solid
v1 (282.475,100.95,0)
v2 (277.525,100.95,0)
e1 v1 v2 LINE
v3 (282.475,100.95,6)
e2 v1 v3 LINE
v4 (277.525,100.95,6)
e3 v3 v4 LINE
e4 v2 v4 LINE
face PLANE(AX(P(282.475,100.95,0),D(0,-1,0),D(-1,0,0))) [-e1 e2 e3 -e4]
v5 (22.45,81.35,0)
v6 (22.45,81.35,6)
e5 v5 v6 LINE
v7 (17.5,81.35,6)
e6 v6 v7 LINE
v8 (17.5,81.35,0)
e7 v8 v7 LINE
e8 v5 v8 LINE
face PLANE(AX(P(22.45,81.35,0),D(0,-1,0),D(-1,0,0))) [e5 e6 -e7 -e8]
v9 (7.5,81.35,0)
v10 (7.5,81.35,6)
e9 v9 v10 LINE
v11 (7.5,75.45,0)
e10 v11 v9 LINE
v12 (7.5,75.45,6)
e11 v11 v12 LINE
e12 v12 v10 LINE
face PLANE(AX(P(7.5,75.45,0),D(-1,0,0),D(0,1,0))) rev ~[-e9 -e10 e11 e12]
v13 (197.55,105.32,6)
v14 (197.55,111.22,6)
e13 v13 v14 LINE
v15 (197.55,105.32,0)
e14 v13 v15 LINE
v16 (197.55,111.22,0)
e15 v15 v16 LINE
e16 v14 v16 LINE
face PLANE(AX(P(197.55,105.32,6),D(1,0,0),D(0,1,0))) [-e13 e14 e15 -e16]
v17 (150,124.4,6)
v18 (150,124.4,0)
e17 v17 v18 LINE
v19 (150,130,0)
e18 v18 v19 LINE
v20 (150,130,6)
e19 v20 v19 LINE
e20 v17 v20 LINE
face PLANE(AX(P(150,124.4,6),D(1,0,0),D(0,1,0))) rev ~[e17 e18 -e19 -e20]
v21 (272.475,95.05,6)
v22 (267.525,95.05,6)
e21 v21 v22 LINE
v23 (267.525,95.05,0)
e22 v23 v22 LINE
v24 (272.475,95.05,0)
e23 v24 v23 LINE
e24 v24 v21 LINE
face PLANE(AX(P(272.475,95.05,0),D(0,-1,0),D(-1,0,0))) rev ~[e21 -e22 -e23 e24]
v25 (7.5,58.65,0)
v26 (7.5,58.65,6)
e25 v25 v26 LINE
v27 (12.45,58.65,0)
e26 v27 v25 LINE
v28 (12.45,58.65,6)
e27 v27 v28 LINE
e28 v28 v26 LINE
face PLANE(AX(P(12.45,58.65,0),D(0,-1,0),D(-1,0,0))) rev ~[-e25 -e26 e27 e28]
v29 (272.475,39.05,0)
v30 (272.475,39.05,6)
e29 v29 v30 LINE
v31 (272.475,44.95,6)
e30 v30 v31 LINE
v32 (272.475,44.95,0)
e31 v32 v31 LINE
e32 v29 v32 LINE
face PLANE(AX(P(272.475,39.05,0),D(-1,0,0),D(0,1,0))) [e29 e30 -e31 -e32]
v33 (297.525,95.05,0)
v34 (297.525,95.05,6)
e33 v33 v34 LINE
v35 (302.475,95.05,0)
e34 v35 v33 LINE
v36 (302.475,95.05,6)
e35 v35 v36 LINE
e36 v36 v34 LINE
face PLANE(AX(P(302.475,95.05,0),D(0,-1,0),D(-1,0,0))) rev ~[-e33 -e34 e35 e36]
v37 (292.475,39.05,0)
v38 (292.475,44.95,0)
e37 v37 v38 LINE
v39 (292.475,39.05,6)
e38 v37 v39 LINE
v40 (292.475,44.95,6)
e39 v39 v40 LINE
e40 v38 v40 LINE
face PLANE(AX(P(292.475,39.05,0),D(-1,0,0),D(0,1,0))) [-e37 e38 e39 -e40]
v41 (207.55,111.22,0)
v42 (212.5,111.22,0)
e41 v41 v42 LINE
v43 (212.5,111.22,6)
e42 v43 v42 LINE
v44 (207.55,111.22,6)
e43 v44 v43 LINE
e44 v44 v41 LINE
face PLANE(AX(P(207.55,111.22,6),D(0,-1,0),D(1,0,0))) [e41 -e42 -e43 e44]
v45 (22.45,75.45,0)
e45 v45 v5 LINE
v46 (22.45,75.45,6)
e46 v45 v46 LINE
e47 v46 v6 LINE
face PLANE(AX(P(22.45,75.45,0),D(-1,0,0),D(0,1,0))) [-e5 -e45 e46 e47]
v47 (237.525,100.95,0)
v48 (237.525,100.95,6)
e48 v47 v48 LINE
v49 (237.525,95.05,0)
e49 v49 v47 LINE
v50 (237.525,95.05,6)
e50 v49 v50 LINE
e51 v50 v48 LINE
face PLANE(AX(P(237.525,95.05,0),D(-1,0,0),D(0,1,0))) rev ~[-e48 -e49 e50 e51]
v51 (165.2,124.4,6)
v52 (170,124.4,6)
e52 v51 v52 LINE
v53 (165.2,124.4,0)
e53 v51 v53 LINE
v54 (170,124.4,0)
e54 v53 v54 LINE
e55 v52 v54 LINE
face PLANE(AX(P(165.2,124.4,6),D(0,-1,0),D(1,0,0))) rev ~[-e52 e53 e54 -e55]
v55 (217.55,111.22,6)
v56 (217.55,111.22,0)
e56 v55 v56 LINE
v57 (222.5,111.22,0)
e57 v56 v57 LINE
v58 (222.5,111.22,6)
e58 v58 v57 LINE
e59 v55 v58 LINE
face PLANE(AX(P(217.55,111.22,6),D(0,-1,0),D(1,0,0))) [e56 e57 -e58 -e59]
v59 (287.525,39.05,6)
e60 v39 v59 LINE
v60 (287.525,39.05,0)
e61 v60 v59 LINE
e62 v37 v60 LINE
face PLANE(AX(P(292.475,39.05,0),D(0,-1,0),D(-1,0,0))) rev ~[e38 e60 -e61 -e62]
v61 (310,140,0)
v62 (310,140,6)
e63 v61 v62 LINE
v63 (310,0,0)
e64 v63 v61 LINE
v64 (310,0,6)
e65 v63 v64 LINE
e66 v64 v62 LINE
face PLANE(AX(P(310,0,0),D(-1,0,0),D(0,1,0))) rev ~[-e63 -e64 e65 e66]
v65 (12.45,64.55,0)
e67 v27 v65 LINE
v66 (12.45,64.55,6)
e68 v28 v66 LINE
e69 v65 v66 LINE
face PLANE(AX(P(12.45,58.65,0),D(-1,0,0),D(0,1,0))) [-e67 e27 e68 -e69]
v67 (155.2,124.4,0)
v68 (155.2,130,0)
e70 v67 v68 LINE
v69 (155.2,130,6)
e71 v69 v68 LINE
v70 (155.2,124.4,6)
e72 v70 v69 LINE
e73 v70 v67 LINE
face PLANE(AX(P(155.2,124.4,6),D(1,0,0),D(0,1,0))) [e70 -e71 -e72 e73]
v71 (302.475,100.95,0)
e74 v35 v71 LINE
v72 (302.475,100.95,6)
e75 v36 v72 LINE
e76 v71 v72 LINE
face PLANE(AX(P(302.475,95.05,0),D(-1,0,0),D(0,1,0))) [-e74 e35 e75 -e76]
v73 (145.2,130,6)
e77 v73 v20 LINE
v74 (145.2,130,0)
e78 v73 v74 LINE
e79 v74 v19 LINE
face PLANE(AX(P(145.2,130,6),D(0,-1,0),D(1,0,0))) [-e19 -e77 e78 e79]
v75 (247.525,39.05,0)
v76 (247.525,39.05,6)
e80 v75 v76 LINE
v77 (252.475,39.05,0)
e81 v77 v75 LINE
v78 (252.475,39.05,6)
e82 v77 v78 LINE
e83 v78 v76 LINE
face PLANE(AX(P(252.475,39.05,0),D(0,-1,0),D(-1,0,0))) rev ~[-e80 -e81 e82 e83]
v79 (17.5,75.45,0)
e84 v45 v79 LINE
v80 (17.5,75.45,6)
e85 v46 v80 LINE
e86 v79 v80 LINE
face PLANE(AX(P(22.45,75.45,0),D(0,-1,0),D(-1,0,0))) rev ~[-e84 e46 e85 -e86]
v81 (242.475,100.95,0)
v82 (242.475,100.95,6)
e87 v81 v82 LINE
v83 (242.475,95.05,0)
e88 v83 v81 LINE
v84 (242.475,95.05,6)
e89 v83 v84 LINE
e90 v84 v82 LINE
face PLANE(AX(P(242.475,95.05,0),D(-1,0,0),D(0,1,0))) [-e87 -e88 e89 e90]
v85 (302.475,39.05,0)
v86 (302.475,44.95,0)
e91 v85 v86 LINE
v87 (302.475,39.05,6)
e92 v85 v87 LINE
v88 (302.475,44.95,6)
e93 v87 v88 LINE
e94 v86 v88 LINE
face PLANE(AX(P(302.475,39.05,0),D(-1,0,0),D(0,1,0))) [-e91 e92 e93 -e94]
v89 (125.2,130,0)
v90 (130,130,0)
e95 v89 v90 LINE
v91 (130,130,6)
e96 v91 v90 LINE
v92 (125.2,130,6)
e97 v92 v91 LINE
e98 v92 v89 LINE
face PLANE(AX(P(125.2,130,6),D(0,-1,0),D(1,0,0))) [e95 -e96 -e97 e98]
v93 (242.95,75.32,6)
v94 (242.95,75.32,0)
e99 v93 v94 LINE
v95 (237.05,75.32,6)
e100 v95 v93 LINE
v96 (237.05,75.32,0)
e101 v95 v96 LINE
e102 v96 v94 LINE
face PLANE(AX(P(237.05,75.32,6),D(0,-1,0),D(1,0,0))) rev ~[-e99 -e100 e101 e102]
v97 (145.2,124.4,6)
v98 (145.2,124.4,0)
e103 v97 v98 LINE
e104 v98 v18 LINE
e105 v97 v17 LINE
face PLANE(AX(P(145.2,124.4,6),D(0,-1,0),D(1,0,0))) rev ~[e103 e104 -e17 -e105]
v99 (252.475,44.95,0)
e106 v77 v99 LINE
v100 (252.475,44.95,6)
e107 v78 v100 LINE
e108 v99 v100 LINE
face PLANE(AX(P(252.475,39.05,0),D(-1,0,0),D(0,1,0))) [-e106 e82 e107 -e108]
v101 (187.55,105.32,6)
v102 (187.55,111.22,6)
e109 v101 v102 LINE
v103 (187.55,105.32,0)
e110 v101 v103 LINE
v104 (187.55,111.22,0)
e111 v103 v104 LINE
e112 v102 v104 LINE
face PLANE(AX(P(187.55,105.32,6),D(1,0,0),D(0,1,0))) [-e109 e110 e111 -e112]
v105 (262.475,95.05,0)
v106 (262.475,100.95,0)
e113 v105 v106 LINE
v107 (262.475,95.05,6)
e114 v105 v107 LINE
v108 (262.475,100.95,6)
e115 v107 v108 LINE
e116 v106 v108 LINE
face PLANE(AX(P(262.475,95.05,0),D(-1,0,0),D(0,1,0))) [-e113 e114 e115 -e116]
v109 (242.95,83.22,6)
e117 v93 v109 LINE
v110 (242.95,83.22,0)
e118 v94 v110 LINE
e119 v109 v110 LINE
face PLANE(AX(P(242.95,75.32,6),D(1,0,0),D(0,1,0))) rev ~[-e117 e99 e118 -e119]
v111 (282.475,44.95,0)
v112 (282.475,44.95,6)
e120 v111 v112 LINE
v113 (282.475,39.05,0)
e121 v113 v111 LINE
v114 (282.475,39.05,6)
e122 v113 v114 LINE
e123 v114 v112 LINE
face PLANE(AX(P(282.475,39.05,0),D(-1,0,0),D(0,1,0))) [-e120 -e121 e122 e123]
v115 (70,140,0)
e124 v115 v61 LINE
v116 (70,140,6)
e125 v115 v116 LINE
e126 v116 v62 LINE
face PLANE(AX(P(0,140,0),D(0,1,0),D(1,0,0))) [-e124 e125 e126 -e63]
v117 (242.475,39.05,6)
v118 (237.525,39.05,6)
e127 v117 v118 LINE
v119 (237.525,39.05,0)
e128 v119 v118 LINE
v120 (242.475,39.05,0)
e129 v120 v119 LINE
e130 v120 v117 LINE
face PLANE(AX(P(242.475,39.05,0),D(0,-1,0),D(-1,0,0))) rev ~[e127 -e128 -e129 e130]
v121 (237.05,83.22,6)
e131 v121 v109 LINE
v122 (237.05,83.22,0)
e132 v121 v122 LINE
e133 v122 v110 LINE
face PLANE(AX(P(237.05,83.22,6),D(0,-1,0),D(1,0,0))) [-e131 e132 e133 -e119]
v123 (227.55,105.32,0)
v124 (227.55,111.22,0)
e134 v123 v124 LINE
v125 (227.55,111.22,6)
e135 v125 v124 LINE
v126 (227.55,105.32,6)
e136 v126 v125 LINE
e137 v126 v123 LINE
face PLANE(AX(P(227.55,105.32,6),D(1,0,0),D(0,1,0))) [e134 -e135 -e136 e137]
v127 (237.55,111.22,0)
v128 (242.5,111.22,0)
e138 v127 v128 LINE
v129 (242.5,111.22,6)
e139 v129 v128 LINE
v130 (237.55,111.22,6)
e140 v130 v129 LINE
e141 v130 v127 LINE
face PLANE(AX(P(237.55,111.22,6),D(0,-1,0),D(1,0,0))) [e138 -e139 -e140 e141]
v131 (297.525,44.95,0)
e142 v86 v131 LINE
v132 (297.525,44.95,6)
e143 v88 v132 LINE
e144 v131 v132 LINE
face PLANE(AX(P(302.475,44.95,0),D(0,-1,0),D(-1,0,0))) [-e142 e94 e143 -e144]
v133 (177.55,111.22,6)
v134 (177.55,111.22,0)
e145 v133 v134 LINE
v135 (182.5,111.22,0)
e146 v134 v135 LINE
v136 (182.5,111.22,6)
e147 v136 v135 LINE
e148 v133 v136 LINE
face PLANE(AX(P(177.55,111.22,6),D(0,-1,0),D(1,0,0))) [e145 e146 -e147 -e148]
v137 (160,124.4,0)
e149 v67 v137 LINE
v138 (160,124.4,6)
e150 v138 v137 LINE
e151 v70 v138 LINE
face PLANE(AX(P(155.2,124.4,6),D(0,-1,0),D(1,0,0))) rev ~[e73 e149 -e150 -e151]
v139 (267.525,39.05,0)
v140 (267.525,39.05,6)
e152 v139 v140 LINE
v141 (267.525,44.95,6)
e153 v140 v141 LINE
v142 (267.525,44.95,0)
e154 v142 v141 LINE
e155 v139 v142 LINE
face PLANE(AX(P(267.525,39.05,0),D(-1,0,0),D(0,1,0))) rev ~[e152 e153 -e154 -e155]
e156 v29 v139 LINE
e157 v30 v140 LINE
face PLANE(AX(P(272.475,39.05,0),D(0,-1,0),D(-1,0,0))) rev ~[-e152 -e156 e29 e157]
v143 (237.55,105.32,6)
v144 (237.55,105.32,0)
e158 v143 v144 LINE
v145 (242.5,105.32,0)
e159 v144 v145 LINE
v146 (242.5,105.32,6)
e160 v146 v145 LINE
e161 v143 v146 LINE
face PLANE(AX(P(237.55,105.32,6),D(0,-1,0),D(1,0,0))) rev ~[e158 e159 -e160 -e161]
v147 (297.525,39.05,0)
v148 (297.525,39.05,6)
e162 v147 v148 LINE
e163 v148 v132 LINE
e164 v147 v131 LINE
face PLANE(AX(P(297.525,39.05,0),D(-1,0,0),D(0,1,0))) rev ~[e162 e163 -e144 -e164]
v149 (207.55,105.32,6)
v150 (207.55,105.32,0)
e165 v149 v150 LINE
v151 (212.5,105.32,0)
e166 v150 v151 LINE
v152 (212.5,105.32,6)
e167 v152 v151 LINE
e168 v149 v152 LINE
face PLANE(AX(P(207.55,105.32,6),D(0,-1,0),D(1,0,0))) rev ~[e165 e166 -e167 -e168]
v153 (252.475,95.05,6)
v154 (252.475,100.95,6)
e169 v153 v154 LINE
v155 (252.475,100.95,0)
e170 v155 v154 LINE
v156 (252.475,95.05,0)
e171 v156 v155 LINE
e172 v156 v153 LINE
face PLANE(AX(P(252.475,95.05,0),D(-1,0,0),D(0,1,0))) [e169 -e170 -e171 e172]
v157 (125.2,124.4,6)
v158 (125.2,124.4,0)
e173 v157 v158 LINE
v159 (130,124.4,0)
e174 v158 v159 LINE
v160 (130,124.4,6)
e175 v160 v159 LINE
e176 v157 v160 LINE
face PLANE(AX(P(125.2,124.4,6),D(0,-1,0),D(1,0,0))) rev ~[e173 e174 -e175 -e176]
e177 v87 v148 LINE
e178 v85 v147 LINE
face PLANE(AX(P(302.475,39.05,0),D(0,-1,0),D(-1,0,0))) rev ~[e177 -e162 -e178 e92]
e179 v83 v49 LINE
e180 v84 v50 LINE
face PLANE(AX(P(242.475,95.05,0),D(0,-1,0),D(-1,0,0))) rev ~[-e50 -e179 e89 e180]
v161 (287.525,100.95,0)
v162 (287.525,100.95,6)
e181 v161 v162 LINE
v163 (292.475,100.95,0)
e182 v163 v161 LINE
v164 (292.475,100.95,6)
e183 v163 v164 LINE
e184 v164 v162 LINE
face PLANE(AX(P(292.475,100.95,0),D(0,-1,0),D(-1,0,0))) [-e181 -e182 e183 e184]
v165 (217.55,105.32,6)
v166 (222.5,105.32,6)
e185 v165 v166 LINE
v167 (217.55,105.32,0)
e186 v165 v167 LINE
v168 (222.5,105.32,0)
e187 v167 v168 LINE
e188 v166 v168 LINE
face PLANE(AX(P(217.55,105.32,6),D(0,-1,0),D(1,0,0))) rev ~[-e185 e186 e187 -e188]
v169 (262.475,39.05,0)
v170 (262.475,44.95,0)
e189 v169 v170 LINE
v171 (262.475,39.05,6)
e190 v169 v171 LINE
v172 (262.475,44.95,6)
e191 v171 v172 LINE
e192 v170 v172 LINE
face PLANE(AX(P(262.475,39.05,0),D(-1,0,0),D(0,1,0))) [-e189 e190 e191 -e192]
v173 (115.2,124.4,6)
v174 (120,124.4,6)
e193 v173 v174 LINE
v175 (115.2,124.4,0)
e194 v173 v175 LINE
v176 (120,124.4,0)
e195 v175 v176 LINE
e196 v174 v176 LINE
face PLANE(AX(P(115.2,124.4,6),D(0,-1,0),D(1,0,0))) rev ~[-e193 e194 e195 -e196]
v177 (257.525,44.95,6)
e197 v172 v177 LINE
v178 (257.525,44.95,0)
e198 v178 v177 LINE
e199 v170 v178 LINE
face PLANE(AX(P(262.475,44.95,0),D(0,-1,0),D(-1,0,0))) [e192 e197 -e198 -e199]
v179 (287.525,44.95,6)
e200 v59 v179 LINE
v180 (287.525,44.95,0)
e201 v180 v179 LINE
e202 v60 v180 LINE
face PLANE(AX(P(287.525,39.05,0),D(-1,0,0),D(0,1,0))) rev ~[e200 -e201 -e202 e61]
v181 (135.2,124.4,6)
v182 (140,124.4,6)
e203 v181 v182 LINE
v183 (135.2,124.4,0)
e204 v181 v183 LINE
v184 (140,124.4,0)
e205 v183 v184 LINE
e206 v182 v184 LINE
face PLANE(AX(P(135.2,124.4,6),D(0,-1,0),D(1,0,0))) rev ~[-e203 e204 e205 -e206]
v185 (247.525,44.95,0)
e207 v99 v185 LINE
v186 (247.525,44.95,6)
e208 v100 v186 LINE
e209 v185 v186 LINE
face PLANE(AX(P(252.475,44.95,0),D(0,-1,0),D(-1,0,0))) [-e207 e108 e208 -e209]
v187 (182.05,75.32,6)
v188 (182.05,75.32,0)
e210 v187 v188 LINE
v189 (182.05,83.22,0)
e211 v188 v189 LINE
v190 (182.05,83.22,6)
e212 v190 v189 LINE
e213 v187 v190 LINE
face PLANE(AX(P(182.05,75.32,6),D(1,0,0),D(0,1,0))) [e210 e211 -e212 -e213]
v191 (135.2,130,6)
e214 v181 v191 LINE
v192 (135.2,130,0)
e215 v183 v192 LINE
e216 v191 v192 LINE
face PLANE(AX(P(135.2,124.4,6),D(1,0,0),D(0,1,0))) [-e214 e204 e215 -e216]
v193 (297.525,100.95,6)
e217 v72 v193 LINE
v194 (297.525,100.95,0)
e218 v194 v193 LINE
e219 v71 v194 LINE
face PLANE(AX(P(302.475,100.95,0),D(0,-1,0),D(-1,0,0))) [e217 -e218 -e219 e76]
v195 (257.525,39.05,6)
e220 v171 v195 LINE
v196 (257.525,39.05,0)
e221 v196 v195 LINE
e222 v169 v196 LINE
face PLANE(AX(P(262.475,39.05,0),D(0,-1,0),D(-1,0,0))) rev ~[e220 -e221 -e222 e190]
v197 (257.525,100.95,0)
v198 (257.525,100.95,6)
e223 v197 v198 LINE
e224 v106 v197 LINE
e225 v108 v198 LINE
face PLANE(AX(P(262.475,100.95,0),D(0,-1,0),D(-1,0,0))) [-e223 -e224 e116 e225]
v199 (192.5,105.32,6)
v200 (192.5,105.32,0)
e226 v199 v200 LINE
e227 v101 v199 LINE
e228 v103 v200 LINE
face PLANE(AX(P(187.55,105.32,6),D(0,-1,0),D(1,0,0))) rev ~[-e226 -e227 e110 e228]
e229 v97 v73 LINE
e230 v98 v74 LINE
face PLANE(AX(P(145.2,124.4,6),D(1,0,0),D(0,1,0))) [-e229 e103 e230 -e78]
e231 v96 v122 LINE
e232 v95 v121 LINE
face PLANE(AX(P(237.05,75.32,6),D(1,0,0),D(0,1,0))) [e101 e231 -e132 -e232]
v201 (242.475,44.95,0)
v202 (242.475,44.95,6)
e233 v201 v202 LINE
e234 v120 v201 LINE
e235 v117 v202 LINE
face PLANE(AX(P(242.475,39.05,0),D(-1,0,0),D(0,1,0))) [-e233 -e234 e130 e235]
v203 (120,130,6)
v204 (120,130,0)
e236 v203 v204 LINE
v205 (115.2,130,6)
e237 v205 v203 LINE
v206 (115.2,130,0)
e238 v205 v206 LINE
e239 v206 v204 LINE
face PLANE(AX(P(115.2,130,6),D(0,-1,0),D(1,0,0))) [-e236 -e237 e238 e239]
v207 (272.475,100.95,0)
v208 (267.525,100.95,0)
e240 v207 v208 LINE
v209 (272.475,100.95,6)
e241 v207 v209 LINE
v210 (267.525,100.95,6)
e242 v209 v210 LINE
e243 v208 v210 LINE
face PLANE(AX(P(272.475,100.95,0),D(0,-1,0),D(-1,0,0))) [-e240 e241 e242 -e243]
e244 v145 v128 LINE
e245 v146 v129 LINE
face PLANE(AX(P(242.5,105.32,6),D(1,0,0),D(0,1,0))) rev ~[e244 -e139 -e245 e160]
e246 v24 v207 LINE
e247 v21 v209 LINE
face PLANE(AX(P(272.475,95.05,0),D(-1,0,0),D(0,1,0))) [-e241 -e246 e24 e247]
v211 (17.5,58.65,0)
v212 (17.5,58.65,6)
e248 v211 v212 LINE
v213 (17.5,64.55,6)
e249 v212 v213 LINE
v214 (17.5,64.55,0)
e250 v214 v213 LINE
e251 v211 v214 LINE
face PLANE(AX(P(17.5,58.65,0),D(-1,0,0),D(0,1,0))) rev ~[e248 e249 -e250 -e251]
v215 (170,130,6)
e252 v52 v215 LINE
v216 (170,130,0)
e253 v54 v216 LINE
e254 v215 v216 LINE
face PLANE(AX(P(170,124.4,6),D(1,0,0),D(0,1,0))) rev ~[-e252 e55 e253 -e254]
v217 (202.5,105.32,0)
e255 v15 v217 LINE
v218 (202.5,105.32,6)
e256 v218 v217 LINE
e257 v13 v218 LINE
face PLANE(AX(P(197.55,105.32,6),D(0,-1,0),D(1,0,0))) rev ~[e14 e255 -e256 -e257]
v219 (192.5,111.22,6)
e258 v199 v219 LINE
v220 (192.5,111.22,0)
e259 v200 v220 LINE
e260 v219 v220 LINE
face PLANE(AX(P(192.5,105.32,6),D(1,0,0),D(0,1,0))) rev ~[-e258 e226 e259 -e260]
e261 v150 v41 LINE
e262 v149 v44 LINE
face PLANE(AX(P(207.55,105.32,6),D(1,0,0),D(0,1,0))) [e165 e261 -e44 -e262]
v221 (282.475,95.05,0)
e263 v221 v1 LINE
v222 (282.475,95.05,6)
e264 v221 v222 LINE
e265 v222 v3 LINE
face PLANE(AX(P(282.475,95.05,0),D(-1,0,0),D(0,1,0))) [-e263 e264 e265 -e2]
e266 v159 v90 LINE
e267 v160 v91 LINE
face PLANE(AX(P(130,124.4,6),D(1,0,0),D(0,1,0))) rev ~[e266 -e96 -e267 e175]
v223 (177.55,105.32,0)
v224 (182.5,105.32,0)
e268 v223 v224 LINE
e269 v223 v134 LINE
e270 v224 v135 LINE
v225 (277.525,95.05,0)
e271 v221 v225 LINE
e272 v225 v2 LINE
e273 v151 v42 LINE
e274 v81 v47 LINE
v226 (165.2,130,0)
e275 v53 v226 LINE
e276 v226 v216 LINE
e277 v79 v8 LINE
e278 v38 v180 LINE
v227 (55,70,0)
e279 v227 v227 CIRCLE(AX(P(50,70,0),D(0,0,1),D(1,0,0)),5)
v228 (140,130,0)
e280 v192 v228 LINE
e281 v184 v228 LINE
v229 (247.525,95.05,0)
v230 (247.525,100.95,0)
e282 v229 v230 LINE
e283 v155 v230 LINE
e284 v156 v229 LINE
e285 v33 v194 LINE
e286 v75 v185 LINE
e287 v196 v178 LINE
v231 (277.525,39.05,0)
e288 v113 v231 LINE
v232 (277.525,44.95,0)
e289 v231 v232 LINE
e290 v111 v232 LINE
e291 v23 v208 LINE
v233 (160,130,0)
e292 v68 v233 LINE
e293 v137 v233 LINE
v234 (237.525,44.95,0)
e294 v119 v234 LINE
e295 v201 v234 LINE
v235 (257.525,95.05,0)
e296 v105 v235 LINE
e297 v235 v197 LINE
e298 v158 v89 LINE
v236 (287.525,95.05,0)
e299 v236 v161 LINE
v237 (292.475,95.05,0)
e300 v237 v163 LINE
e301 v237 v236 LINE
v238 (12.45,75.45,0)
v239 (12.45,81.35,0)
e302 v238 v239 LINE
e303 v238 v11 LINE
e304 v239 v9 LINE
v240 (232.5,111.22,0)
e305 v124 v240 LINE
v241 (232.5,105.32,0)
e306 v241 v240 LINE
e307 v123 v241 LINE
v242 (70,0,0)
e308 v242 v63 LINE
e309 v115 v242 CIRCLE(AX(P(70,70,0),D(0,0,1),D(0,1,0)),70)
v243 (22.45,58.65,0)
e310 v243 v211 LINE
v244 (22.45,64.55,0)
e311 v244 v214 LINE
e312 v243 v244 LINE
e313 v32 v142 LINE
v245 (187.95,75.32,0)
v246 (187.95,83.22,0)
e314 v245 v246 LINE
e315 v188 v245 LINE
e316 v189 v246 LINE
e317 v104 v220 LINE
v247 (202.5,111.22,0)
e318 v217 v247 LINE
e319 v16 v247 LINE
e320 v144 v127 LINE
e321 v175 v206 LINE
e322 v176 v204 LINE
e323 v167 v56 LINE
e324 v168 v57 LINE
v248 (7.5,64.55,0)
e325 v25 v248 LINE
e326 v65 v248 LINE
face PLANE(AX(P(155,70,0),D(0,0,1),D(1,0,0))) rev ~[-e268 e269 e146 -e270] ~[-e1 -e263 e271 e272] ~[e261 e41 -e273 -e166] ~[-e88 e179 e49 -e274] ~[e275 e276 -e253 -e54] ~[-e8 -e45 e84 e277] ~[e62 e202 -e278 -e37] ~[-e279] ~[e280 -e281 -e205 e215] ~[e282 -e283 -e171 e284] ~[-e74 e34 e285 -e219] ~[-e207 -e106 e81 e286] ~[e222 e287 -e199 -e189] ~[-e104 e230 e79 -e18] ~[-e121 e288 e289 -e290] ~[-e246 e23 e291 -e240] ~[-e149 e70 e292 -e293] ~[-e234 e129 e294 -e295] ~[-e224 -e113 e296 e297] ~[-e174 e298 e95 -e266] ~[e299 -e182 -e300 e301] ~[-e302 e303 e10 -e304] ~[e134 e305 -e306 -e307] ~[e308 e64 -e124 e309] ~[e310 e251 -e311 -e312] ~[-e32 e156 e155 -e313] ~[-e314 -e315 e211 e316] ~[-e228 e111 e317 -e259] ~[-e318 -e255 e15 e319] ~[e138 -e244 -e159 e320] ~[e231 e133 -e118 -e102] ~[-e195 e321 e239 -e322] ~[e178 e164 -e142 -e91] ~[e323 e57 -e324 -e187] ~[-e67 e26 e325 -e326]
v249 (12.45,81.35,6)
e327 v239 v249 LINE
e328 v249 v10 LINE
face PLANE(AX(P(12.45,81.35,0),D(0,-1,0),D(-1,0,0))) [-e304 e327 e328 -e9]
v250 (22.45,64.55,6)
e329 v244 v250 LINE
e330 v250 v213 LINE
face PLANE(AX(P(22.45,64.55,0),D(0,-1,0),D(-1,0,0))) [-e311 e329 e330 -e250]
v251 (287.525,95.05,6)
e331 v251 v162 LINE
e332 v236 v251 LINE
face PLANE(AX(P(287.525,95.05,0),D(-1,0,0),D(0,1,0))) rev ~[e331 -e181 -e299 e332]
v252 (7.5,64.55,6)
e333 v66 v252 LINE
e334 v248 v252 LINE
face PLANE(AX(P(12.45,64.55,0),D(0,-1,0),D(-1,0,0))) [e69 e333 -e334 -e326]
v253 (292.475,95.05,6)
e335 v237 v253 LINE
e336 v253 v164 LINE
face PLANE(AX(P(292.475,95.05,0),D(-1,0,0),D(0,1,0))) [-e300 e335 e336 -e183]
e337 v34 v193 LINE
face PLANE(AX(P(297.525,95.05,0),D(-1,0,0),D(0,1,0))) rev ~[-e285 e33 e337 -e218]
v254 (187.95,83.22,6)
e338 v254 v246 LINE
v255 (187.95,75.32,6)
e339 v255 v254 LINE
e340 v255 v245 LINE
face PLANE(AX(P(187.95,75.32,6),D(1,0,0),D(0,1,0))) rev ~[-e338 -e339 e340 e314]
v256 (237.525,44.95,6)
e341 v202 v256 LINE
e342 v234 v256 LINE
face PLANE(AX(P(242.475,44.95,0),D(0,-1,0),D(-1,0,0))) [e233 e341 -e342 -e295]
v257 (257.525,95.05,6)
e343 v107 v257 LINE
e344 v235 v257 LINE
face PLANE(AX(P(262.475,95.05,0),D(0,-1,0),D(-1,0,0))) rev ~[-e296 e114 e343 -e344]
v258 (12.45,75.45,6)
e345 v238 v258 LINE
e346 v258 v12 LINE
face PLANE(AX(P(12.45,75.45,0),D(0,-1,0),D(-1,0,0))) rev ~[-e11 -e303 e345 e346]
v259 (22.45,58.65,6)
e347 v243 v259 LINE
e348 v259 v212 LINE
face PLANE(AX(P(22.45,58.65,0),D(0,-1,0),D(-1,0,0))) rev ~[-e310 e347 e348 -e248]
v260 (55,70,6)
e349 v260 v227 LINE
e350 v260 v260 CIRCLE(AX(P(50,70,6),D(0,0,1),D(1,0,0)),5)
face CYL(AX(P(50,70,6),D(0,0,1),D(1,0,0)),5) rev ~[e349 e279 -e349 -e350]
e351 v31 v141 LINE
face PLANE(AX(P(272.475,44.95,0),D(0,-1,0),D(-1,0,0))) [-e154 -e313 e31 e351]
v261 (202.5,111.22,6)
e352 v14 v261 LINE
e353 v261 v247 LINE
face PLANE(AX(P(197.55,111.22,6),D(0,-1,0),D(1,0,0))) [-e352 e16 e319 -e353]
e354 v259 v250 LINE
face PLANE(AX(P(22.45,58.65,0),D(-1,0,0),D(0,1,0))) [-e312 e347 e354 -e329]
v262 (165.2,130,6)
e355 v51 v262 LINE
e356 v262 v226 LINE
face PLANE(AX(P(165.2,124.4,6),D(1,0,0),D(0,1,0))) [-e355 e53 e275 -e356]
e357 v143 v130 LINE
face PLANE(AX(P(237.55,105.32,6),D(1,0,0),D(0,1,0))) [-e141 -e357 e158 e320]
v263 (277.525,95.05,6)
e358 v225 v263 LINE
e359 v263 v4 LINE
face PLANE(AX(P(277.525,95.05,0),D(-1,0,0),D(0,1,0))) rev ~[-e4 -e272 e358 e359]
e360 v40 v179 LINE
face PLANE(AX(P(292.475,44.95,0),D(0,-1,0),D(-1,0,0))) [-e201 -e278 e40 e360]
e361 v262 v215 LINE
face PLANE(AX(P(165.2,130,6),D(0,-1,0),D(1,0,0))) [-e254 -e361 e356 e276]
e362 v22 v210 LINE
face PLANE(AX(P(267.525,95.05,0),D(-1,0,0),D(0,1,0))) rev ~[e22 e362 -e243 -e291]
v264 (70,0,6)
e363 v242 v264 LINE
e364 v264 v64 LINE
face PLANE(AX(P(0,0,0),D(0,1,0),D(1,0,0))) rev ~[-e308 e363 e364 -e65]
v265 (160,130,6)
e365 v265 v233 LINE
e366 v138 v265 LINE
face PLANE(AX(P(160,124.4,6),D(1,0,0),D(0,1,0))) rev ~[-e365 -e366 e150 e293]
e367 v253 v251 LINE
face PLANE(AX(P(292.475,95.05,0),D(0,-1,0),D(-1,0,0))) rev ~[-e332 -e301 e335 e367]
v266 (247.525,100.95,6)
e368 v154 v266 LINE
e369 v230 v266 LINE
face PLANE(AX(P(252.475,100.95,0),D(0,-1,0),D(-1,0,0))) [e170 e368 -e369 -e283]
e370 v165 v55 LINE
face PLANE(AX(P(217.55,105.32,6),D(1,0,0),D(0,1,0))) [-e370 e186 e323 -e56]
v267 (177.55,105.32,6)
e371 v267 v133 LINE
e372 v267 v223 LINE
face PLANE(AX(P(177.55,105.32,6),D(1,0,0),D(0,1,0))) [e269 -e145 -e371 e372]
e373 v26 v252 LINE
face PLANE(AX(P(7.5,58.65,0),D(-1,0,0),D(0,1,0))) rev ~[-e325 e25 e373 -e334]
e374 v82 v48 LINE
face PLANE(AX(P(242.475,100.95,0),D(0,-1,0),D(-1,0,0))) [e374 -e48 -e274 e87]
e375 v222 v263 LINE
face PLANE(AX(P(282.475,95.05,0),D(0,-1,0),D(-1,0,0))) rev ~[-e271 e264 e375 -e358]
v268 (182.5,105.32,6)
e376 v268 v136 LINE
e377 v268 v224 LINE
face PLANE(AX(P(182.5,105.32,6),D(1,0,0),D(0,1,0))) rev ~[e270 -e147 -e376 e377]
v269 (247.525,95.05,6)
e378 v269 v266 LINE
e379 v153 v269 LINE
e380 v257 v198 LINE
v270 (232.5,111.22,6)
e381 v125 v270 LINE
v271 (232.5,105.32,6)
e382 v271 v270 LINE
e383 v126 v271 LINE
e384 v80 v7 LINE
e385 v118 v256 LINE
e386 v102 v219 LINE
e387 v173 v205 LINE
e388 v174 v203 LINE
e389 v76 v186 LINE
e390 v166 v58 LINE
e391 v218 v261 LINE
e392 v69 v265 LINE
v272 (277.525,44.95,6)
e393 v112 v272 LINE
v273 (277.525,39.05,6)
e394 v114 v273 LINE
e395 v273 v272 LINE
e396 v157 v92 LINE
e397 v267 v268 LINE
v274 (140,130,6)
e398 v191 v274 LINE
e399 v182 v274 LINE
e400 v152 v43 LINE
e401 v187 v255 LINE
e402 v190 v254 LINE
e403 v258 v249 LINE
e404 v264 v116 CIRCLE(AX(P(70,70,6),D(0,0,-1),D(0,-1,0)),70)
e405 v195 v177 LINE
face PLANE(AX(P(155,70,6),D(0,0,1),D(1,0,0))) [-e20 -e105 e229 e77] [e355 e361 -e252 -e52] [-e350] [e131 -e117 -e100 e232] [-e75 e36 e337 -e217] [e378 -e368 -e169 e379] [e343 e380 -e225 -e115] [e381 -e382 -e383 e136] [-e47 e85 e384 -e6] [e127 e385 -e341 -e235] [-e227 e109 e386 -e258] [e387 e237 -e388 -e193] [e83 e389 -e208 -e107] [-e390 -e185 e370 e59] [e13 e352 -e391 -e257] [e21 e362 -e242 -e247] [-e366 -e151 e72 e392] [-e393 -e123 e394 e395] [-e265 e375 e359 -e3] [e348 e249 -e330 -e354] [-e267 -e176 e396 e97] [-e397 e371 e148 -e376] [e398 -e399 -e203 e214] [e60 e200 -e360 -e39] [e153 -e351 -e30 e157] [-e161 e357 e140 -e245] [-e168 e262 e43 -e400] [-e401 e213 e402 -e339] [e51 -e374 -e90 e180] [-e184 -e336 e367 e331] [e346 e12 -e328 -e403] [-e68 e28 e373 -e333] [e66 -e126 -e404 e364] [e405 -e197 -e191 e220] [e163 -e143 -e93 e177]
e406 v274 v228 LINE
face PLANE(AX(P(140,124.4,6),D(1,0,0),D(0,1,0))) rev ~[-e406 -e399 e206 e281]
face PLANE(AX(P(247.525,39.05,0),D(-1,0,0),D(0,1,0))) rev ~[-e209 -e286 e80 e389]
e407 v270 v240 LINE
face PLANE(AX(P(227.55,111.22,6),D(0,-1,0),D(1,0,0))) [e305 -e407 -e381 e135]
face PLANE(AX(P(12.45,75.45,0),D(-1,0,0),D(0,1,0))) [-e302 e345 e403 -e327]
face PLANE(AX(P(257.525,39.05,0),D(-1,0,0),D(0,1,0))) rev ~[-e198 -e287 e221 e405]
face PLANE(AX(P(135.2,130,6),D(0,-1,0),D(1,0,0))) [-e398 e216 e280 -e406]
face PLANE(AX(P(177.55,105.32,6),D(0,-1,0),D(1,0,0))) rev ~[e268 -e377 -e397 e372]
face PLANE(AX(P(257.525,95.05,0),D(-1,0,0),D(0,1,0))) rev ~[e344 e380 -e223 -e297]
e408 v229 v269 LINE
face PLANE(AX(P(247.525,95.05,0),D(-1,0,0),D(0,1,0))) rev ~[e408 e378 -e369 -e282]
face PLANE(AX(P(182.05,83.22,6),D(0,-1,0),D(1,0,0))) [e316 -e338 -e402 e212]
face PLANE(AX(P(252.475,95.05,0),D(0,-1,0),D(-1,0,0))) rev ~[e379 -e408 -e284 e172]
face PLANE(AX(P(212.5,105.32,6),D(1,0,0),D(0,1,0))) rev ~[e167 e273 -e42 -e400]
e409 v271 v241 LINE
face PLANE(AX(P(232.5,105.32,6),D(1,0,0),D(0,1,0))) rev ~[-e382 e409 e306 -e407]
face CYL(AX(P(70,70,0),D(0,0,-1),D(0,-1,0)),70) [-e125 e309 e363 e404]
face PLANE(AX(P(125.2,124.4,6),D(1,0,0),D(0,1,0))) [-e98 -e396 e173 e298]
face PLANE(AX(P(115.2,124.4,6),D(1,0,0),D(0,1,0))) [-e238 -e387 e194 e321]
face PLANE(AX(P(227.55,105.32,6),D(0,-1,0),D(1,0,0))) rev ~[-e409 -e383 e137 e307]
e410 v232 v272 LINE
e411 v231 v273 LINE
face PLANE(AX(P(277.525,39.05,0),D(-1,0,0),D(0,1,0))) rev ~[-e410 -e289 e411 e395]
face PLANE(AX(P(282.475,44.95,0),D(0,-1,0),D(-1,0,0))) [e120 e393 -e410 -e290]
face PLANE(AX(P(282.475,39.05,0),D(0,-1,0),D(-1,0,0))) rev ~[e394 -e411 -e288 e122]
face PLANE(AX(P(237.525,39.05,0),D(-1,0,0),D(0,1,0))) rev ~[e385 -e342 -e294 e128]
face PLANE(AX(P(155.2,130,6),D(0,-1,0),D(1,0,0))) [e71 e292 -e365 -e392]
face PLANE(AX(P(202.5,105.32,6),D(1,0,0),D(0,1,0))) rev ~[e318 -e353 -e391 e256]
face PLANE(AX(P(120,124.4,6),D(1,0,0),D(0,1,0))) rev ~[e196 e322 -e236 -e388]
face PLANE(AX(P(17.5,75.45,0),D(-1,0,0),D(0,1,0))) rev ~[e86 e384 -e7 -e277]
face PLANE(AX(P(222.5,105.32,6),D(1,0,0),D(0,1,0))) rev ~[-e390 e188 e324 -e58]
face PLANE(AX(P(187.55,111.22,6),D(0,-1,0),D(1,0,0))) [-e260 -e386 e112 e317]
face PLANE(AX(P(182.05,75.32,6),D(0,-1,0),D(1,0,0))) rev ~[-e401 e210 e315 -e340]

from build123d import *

# Parameters (mm, degrees)
ESQUISSE1_W             = 310
ESQUISSE1_H             = 140
BOSS_EXTRU_1_DEPTH      = 6
ESQUISSE4_W             = 4.95
ESQUISSE4_H             = 5.9
ESQUISSE4_W_2           = 5.9
ESQUISSE4_H_2           = 7.9
ENL_V_MAT_EXTRU_3_DEPTH = 6
ESQUISSE5_W             = 4.95
ESQUISSE5_H             = 5.9
ENL_V_MAT_EXTRU_4_DEPTH = 6
ESQUISSE6_W             = 4.95
ESQUISSE6_H             = 5.9
ENL_V_MAT_EXTRU_5_DEPTH = 6
ENL_V_MAT_EXTRU_6_DEPTH = 6
ESQUISSE8_R             = 5
ENL_V_MAT_EXTRU_7_DEPTH = 6
ESQUISSE9_W             = 4.8
ESQUISSE9_H             = 5.6
ENL_V_MAT_EXTRU_8_DEPTH = 10


with BuildPart() as part:
    # Esquisse1 → Boss.-Extru.1 (new body)
    with BuildSketch(Plane.XY):
        with Locations((155, 70)):
            Rectangle(ESQUISSE1_W, ESQUISSE1_H)
    extrude(amount=BOSS_EXTRU_1_DEPTH)

    # Esquisse4 → Enlèv. mat.-Extru.3 (cut)
    with BuildSketch(Plane.XY.offset(6)):
        with Locations((190.025, 108.27)):
            Rectangle(ESQUISSE4_W, ESQUISSE4_H)
        with Locations((185, 79.27)):
            Rectangle(ESQUISSE4_W_2, ESQUISSE4_H_2)
        with Locations((240, 79.27)):
            Rectangle(ESQUISSE4_W_2, ESQUISSE4_H_2)
        with Locations((180.025, 108.27)):
            Rectangle(ESQUISSE4_W, ESQUISSE4_H)
        with Locations((200.025, 108.27)):
            Rectangle(ESQUISSE4_W, ESQUISSE4_H)
        with Locations((210.025, 108.27)):
            Rectangle(ESQUISSE4_W, ESQUISSE4_H)
        with Locations((220.025, 108.27)):
            Rectangle(ESQUISSE4_W, ESQUISSE4_H)
        with Locations((230.025, 108.27)):
            Rectangle(ESQUISSE4_W, ESQUISSE4_H)
        with Locations((240.025, 108.27)):
            Rectangle(ESQUISSE4_W, ESQUISSE4_H)
    extrude(amount=-ENL_V_MAT_EXTRU_3_DEPTH, mode=Mode.SUBTRACT)

    # Esquisse5 → Enlèv. mat.-Extru.4 (cut)
    with BuildSketch(Plane(origin=(0, 0, 0), x_dir=(-1, 0, 0), z_dir=(0, 0, -1))):
        with Locations((-300, 98)):
            Rectangle(ESQUISSE5_W, ESQUISSE5_H)
        with Locations((-290, 98)):
            Rectangle(ESQUISSE5_W, ESQUISSE5_H)
        with Locations((-280, 98)):
            Rectangle(ESQUISSE5_W, ESQUISSE5_H)
        with Locations((-270, 98)):
            Rectangle(ESQUISSE5_W, ESQUISSE5_H)
        with Locations((-260, 98)):
            Rectangle(ESQUISSE5_W, ESQUISSE5_H)
        with Locations((-250, 98)):
            Rectangle(ESQUISSE5_W, ESQUISSE5_H)
        with Locations((-240, 98)):
            Rectangle(ESQUISSE5_W, ESQUISSE5_H)
        with Locations((-240, 42)):
            Rectangle(ESQUISSE5_W, ESQUISSE5_H)
        with Locations((-250, 42)):
            Rectangle(ESQUISSE5_W, ESQUISSE5_H)
        with Locations((-260, 42)):
            Rectangle(ESQUISSE5_W, ESQUISSE5_H)
        with Locations((-270, 42)):
            Rectangle(ESQUISSE5_W, ESQUISSE5_H)
        with Locations((-280, 42)):
            Rectangle(ESQUISSE5_W, ESQUISSE5_H)
        with Locations((-300, 42)):
            Rectangle(ESQUISSE5_W, ESQUISSE5_H)
        with Locations((-290, 42)):
            Rectangle(ESQUISSE5_W, ESQUISSE5_H)
    extrude(amount=-ENL_V_MAT_EXTRU_4_DEPTH, mode=Mode.SUBTRACT)

    # Esquisse6 → Enlèv. mat.-Extru.5 (cut)
    with BuildSketch(Plane(origin=(0, 0, 0), x_dir=(-1, 0, 0), z_dir=(0, 0, -1))):
        with Locations((-9.975, 78.4)):
            Rectangle(ESQUISSE6_W, ESQUISSE6_H)
        with Locations((-19.975, 78.4)):
            Rectangle(ESQUISSE6_W, ESQUISSE6_H)
        with Locations((-9.975, 61.6)):
            Rectangle(ESQUISSE6_W, ESQUISSE6_H)
        with Locations((-19.975, 61.6)):
            Rectangle(ESQUISSE6_W, ESQUISSE6_H)
    extrude(amount=-ENL_V_MAT_EXTRU_5_DEPTH, mode=Mode.SUBTRACT)

    # Esquisse7 → Enlèv. mat.-Extru.6 (cut)
    with BuildSketch(Plane(origin=(0, 0, 0), x_dir=(-1, 0, 0), z_dir=(0, 0, -1))):
        with BuildLine():
            Line((-70, 140), (0, 140))
            Line((0, 140), (30, 140))
            Line((30, 140), (30, 0))
            Line((30, 0), (0, 0))
            Line((0, 0), (-70, 0))
            ThreePointArc((-70, 0), (0, 70), (-70, 140))
        make_face()
    extrude(amount=-ENL_V_MAT_EXTRU_6_DEPTH, mode=Mode.SUBTRACT)

    # Esquisse8 → Enlèv. mat.-Extru.7 (cut)
    with BuildSketch(Plane.XY.offset(6)):
        with Locations((50, 70)):
            Circle(ESQUISSE8_R)
    extrude(amount=-ENL_V_MAT_EXTRU_7_DEPTH, mode=Mode.SUBTRACT)

    # Esquisse9 → Enlèv. mat.-Extru.8 (cut)
    with BuildSketch(Plane.XY.offset(6)):
        with Locations((117.6, 127.2)):
            Rectangle(ESQUISSE9_W, ESQUISSE9_H)
        with Locations((127.6, 127.2)):
            Rectangle(ESQUISSE9_W, ESQUISSE9_H)
        with Locations((137.6, 127.2)):
            Rectangle(ESQUISSE9_W, ESQUISSE9_H)
        with Locations((147.6, 127.2)):
            Rectangle(ESQUISSE9_W, ESQUISSE9_H)
        with Locations((157.6, 127.2)):
            Rectangle(ESQUISSE9_W, ESQUISSE9_H)
        with Locations((167.6, 127.2)):
            Rectangle(ESQUISSE9_W, ESQUISSE9_H)
    extrude(amount=-ENL_V_MAT_EXTRU_8_DEPTH, mode=Mode.SUBTRACT)


solid = part.part
